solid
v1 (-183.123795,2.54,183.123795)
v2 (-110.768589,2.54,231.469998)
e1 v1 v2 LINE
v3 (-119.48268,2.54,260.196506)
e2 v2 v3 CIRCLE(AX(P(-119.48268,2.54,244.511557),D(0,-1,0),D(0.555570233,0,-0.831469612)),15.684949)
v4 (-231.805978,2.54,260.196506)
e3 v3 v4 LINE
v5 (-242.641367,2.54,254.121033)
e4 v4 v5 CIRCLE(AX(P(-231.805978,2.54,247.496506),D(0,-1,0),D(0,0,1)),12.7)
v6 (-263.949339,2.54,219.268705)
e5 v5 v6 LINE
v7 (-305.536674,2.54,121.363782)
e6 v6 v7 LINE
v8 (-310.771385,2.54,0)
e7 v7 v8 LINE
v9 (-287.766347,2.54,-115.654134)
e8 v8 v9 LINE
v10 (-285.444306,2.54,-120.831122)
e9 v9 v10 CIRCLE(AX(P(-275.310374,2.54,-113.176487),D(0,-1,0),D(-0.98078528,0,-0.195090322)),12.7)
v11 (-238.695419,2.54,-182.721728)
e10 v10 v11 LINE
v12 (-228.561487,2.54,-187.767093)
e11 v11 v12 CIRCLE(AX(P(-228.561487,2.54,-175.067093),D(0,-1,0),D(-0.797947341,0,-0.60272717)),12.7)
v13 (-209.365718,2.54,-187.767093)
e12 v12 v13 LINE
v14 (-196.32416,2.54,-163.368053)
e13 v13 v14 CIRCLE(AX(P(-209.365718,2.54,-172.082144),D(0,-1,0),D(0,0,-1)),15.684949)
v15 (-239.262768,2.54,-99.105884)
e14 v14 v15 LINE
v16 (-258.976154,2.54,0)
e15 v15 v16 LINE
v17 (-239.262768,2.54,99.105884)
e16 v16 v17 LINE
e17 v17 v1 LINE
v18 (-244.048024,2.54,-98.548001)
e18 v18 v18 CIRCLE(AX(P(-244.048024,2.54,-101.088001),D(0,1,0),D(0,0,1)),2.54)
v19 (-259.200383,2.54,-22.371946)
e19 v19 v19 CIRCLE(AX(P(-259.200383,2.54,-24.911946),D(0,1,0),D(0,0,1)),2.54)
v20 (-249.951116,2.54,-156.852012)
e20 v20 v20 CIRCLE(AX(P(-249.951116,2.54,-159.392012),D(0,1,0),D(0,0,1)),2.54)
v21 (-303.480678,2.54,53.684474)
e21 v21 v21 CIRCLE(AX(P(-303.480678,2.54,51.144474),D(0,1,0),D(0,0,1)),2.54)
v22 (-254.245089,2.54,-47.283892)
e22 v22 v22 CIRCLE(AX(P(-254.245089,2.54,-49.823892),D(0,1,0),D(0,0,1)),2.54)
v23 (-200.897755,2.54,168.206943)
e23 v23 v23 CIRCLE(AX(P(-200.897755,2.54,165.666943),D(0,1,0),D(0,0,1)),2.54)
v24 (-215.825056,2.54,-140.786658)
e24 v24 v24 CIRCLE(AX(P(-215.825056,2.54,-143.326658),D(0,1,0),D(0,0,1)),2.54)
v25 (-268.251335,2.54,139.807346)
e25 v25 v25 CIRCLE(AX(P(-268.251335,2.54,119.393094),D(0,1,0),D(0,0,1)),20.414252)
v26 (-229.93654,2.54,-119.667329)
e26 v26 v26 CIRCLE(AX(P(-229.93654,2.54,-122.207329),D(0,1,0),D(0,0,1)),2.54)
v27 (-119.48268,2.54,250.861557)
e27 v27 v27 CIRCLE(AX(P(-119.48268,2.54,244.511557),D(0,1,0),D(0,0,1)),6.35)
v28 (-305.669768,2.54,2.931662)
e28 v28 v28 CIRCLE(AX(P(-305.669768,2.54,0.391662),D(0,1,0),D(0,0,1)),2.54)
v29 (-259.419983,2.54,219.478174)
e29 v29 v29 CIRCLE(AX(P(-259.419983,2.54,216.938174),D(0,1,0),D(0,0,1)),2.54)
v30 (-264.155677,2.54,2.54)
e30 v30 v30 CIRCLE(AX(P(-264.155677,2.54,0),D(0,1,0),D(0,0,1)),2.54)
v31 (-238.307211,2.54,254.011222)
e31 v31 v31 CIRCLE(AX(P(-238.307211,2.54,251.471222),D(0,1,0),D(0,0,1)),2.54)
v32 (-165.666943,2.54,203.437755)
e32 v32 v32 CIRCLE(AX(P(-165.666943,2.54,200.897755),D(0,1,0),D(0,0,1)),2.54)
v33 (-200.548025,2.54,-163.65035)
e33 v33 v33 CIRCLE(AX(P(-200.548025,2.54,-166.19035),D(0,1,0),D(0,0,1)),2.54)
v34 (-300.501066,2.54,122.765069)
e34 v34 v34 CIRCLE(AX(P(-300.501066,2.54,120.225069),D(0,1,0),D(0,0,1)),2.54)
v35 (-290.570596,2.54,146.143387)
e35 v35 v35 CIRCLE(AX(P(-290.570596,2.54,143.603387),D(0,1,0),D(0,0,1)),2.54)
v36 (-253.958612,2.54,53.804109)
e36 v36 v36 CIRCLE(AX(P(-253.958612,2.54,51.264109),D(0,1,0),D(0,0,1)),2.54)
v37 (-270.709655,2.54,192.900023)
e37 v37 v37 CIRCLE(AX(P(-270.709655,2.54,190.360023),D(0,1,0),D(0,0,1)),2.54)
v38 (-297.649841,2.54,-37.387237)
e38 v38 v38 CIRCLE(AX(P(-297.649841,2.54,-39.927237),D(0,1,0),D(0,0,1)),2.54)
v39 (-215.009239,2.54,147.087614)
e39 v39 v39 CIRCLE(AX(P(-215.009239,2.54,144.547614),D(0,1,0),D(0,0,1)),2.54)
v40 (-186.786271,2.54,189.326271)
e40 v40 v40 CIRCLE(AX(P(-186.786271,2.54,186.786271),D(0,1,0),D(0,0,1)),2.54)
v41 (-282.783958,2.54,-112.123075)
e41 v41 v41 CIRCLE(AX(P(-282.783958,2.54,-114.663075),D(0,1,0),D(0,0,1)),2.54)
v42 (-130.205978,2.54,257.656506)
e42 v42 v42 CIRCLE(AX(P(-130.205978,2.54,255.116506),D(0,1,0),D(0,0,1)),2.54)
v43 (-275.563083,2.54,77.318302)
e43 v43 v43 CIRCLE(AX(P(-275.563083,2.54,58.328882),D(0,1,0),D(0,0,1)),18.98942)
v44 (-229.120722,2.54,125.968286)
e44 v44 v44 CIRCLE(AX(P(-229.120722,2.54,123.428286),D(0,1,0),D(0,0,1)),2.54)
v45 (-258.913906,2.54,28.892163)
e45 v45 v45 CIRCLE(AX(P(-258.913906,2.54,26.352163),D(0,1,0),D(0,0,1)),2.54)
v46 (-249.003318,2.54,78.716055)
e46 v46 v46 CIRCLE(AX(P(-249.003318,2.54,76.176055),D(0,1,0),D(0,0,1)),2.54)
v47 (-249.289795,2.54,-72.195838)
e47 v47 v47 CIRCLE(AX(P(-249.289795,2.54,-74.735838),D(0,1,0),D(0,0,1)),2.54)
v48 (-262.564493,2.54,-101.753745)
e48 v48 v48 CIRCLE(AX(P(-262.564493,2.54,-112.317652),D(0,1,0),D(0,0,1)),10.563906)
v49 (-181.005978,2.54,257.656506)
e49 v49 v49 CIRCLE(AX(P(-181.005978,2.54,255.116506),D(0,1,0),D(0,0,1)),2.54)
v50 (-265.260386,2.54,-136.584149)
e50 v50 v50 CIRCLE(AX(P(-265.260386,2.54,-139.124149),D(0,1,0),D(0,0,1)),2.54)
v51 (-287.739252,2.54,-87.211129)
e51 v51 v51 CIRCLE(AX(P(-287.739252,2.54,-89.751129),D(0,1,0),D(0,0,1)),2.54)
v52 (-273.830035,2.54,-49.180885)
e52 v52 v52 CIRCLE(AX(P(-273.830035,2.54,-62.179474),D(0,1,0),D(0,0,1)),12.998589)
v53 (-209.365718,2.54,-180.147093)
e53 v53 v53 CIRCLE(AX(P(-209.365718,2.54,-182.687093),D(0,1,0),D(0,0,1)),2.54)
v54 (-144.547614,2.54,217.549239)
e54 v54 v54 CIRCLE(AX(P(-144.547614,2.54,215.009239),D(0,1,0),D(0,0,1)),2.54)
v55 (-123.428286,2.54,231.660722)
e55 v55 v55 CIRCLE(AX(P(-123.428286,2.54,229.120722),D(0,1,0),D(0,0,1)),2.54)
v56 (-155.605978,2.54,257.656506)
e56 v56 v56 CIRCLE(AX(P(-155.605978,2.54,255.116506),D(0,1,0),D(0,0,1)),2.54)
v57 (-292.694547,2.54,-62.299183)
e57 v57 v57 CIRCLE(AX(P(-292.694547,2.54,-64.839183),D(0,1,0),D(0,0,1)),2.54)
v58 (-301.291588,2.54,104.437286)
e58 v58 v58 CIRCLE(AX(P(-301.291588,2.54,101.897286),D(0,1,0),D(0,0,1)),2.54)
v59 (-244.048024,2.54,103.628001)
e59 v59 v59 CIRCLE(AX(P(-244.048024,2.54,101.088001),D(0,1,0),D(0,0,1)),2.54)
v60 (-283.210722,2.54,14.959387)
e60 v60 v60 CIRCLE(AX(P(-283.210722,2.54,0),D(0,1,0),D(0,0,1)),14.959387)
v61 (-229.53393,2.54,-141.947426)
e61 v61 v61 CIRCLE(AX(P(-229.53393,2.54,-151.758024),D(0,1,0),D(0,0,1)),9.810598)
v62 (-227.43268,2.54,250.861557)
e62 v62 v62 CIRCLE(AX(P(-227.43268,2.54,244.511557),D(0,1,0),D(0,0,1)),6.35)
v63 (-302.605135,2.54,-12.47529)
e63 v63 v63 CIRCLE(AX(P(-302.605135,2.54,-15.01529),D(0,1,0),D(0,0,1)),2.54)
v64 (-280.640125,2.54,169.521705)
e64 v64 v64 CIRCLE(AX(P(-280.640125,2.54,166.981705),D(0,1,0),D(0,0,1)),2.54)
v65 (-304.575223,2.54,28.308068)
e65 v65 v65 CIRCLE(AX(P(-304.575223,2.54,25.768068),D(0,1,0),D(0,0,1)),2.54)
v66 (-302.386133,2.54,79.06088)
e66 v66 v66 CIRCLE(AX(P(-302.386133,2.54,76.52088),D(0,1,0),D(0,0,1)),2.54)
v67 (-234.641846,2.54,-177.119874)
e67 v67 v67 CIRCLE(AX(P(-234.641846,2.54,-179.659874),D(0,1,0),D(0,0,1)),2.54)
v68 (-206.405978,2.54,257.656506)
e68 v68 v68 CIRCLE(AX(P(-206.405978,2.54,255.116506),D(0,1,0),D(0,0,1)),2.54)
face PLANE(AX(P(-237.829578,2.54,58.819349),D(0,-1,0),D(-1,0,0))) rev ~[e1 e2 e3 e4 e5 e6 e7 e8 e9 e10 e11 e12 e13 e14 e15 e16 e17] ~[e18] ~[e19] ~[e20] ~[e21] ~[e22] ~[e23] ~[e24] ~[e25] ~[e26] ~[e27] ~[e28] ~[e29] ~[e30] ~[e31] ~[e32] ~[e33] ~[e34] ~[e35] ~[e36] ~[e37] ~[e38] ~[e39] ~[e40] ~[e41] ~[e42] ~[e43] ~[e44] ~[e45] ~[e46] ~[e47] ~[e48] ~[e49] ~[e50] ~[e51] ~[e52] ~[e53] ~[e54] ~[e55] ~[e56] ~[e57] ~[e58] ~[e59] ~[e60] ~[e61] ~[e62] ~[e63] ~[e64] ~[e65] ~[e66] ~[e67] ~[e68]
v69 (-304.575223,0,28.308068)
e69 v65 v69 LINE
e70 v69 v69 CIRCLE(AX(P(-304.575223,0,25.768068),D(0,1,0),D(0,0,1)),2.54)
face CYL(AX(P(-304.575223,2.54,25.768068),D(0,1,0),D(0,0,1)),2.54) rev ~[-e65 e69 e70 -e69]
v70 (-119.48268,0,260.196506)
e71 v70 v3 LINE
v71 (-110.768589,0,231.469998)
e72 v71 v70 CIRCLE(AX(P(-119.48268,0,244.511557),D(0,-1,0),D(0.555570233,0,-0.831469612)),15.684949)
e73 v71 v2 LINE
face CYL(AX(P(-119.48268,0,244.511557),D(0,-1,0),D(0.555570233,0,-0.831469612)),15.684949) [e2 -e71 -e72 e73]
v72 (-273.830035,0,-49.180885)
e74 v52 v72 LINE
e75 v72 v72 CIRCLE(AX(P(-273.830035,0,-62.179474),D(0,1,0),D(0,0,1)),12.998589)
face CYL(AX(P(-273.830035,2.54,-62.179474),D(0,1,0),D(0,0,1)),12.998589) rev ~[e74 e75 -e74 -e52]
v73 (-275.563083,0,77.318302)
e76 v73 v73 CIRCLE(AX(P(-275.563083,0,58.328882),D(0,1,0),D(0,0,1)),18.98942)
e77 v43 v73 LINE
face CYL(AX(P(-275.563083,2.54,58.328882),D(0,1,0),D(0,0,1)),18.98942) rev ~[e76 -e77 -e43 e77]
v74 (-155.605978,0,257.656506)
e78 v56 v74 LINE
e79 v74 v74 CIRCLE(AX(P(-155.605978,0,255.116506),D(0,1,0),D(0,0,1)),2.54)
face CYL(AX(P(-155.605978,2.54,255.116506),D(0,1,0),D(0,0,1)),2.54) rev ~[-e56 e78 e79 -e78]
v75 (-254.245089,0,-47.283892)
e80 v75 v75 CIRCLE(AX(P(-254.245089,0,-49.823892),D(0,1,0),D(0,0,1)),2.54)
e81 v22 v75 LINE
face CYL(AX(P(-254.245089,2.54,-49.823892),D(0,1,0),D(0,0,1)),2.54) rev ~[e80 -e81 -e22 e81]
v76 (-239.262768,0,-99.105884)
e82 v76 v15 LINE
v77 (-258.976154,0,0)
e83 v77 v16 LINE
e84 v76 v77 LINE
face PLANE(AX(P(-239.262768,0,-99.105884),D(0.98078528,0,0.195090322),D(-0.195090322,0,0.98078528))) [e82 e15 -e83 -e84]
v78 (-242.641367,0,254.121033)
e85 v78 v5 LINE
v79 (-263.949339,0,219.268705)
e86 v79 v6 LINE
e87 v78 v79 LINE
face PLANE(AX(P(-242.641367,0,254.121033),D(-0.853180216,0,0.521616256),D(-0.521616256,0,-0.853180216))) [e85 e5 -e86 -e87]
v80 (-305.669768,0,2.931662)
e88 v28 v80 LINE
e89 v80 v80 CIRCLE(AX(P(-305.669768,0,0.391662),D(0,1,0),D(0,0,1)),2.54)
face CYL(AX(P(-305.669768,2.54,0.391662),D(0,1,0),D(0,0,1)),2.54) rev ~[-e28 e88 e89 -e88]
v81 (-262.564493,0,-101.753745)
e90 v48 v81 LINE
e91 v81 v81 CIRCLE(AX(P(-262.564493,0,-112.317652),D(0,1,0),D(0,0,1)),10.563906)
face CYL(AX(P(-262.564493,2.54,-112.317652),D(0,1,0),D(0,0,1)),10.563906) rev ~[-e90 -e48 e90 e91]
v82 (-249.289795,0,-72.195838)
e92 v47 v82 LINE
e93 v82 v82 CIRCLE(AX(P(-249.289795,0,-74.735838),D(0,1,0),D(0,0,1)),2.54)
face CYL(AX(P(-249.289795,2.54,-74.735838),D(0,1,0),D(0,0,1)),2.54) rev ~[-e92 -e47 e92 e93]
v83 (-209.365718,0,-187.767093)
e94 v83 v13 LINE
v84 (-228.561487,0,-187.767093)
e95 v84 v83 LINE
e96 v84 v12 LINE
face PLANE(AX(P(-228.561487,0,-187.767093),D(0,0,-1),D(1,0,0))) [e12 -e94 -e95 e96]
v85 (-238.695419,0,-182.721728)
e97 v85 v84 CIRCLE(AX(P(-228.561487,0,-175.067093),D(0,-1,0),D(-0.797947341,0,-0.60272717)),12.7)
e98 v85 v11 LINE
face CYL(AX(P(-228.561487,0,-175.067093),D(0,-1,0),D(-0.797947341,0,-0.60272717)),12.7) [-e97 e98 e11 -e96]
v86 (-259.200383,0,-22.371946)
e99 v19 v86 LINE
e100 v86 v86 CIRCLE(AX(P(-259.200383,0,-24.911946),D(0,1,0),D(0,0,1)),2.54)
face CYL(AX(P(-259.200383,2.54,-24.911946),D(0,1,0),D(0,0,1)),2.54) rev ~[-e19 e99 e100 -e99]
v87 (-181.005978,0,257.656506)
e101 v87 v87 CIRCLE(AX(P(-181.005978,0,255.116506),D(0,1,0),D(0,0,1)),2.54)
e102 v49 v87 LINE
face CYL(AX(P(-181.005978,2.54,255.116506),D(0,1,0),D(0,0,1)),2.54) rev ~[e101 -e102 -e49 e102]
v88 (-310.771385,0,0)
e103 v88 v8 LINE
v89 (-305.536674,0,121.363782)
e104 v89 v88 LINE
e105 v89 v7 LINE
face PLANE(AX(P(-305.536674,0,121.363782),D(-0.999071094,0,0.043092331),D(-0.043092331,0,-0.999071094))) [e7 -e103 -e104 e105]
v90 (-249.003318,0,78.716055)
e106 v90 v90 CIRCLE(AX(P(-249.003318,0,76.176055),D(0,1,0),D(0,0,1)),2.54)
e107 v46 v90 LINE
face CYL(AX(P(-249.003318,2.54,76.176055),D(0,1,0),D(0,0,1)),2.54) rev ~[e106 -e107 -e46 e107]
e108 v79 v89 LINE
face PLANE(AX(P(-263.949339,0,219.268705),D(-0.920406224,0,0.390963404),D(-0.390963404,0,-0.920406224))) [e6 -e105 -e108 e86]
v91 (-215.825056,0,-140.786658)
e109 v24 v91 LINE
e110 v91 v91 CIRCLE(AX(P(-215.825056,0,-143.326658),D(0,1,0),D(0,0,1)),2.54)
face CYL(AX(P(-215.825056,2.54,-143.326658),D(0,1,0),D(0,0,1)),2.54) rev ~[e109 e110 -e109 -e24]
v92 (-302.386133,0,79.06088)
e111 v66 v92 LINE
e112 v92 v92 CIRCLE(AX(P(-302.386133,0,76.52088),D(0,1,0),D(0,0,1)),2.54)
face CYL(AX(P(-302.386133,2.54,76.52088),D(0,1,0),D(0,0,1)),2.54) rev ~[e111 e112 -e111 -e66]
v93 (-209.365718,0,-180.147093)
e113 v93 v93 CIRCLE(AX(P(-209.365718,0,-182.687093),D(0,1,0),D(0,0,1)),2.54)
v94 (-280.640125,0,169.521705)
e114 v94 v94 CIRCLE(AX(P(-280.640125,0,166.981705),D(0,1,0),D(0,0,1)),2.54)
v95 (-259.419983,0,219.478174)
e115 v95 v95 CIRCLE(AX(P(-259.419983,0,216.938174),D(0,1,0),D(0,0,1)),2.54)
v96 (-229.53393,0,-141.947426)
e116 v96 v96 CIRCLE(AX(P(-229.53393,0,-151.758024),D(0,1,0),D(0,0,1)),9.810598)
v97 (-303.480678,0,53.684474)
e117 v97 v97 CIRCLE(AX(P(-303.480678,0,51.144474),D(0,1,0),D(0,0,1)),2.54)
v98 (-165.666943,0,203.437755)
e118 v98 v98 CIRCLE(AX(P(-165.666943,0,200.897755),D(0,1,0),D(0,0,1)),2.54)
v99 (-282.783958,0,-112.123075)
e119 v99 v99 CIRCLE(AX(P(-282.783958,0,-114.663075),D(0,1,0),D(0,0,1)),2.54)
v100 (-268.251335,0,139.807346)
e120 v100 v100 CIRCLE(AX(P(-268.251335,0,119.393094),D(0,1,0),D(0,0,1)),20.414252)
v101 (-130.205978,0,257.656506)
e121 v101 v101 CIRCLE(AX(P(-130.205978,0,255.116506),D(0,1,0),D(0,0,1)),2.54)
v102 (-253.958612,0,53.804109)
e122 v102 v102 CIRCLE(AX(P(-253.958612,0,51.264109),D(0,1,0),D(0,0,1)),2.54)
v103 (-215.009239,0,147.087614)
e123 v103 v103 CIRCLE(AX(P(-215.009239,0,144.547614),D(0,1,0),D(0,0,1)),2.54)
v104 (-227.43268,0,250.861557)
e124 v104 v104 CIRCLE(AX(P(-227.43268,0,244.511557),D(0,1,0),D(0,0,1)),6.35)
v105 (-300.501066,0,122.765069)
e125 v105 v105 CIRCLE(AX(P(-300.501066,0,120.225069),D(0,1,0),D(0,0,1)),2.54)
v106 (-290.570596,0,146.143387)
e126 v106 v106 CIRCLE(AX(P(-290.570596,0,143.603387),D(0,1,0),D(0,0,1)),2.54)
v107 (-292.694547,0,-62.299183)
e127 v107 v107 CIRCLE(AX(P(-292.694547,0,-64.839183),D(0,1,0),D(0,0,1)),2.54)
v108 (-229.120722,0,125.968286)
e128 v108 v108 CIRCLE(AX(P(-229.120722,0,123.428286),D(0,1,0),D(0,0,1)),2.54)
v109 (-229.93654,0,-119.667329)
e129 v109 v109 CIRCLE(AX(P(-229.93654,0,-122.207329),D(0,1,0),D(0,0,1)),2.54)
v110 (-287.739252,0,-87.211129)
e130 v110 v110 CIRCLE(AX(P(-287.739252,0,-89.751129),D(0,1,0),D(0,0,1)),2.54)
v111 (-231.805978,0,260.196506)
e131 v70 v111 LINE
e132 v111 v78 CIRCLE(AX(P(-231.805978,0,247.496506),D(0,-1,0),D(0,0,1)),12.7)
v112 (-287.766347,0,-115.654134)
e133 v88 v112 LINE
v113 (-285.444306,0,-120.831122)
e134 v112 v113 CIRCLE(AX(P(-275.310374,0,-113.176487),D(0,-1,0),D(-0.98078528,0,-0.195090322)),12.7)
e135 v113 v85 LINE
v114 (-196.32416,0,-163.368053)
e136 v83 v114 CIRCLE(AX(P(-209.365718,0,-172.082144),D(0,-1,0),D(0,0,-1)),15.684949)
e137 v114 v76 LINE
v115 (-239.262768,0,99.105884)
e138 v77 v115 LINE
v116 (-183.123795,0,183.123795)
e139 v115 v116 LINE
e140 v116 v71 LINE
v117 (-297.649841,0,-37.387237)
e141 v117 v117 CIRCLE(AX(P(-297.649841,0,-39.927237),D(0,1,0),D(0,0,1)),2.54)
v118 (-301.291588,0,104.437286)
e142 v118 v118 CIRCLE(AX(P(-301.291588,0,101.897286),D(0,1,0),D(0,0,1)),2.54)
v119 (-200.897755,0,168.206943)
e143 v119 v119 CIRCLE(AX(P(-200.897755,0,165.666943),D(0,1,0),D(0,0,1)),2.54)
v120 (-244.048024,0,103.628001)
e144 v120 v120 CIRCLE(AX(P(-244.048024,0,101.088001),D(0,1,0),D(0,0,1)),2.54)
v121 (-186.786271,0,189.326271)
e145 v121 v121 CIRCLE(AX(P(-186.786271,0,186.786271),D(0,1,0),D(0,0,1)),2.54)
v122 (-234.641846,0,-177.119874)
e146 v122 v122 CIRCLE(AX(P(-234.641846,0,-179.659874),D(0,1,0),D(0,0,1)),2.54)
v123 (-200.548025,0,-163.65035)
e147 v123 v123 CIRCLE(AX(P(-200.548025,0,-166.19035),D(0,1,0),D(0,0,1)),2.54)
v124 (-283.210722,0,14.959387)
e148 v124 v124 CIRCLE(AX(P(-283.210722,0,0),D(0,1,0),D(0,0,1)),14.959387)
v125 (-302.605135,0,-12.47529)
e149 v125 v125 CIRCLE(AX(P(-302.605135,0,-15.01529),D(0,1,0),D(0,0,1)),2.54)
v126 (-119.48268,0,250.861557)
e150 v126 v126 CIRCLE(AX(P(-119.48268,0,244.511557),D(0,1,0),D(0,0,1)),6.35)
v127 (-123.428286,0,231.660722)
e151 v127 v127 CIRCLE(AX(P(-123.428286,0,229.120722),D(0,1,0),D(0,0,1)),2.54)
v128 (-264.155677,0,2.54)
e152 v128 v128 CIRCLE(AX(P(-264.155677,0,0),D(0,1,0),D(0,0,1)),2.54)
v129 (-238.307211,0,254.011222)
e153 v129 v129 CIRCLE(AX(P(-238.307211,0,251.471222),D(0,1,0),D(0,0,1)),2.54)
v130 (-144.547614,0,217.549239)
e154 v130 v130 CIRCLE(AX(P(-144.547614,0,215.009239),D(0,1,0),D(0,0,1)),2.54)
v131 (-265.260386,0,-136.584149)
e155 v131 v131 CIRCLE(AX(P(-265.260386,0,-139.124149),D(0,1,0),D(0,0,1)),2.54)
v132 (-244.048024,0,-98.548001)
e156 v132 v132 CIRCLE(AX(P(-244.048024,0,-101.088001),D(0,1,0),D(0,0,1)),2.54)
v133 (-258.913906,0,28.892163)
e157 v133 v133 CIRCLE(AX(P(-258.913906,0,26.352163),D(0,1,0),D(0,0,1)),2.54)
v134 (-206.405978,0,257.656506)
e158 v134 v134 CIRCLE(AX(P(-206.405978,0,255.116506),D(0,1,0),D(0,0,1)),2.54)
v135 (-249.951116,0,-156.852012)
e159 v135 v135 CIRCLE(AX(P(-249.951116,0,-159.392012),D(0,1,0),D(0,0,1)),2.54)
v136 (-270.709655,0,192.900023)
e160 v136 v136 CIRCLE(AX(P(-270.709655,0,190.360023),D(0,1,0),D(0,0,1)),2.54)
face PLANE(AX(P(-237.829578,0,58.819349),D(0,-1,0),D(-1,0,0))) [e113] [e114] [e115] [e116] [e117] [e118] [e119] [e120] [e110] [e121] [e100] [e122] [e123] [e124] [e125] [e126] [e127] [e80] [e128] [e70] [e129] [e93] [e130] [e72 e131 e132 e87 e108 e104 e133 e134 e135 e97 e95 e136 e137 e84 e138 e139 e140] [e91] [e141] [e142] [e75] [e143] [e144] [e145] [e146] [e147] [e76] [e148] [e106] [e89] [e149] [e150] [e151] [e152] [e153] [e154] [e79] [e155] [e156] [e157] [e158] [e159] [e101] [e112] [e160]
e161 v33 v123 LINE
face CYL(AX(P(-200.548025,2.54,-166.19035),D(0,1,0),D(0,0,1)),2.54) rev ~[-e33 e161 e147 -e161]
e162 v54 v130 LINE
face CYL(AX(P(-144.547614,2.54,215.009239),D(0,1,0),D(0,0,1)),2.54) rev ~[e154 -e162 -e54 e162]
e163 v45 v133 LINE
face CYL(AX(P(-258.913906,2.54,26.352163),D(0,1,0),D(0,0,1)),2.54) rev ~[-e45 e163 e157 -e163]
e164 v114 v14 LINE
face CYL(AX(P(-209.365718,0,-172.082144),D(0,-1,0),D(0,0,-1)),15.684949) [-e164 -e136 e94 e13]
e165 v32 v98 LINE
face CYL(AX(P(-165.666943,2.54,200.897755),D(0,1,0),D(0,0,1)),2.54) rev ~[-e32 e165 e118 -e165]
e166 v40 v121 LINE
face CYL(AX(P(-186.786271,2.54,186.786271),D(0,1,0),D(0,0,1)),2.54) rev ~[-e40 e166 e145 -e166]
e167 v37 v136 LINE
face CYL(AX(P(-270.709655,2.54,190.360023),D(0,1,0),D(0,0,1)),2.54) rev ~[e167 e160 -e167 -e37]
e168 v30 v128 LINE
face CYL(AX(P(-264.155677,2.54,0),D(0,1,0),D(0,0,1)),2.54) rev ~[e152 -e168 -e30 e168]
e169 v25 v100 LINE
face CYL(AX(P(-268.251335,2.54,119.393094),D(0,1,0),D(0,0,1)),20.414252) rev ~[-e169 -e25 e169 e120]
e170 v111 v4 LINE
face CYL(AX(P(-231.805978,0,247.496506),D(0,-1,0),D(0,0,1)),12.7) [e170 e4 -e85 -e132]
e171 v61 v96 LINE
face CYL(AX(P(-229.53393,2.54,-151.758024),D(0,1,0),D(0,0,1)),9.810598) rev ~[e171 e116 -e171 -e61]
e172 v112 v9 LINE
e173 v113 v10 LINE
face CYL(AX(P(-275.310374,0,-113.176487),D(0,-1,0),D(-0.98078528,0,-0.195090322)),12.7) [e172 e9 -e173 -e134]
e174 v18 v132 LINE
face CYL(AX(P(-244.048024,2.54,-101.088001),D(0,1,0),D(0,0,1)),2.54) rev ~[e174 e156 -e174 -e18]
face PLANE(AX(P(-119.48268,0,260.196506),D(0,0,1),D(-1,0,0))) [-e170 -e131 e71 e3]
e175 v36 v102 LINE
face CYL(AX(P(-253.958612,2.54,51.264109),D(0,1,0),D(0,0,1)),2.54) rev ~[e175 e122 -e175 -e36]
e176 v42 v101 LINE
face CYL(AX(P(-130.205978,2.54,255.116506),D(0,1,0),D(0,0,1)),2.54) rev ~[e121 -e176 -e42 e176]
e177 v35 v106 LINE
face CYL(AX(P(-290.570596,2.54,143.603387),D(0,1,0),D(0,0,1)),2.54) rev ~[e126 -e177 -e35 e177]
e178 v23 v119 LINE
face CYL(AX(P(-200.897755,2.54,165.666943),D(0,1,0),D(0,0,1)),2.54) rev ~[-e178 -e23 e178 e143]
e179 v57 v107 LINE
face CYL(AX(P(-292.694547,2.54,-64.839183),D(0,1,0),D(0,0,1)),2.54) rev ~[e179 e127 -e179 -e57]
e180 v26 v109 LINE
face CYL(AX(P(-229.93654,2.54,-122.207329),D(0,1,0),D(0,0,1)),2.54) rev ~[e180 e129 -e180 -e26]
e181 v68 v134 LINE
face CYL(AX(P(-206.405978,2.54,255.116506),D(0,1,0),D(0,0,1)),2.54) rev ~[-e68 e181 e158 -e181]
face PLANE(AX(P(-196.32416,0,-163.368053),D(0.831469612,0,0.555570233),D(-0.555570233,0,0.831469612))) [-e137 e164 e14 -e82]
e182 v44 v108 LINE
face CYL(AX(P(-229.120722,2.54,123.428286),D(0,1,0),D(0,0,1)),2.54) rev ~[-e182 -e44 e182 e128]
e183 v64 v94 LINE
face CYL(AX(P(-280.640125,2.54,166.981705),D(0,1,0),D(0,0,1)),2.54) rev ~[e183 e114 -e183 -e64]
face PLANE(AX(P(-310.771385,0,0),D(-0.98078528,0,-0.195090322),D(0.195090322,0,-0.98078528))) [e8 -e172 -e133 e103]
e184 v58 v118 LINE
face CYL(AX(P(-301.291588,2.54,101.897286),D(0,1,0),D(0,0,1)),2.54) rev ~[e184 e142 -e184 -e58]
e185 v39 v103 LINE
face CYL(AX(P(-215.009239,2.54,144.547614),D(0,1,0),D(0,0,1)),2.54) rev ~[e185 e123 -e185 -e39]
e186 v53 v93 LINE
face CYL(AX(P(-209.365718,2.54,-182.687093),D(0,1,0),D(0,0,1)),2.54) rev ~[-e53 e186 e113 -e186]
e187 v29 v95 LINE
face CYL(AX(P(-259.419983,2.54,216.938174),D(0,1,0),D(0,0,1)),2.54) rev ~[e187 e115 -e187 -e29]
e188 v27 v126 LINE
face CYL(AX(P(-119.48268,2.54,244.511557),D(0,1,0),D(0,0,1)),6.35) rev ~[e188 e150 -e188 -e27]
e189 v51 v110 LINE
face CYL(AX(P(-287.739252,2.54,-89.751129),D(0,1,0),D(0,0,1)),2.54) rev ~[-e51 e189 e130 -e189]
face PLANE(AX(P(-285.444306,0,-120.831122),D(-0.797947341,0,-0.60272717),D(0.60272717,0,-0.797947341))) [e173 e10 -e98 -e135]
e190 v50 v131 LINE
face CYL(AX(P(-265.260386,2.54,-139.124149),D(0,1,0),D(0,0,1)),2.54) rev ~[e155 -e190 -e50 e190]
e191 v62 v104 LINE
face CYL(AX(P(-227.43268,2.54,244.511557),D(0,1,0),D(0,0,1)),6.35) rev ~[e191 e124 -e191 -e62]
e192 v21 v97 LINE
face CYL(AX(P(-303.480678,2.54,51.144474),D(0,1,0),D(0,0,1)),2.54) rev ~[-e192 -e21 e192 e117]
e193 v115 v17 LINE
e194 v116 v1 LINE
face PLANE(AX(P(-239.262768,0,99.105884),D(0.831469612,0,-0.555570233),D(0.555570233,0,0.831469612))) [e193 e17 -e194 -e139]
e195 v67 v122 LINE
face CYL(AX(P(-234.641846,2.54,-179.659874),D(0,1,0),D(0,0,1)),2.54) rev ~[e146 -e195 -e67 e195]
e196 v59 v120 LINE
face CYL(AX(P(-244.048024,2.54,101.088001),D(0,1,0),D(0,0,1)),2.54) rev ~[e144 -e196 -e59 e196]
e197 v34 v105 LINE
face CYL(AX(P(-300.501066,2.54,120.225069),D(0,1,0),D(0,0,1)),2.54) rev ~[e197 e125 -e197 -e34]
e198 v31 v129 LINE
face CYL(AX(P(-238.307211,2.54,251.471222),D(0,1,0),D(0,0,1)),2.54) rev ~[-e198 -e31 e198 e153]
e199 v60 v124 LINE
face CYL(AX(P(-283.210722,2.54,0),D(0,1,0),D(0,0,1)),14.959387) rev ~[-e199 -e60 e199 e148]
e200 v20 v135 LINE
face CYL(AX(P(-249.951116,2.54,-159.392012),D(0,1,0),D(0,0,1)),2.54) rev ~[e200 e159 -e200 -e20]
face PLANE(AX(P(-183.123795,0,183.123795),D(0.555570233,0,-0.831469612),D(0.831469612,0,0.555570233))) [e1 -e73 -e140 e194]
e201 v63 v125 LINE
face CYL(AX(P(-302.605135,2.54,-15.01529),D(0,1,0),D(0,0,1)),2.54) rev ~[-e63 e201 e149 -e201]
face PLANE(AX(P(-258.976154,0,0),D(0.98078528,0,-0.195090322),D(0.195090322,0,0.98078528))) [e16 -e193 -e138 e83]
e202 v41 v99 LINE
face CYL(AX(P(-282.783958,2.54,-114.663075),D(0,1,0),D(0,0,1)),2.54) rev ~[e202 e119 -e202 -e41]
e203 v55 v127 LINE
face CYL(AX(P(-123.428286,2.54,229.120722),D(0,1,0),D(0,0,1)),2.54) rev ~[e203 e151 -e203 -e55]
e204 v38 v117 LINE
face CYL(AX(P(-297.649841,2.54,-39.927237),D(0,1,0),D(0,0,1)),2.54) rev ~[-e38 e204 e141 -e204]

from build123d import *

# Parameters (mm, degrees)
ARM_DEPTH            = 2.54
LIGHTING_HOLES_REACH = 407.324
SKETCH3_R            = 10.563906398
SKETCH3_R_2          = 12.998589321
SKETCH3_R_3          = 14.959386689
SKETCH3_R_4          = 18.989420404
SKETCH3_R_5          = 20.414251761
SKETCH3_R_6          = 9.810598177
PIVOT_HOLES_REACH    = 407.324
SKETCH4_R            = 6.35
SKETCH5_R            = 2.54
EDGE_HOLES_DEPTH     = 2.54


with BuildPart() as part:
    # Sketch2 → Arm (new body)
    with BuildSketch(Plane(origin=(0, 0, 0), x_dir=(1, 0, 0), z_dir=(0, 1, 0))):
        with BuildLine():
            Line((-196.324159543, 163.36805283), (-239.26276826, 99.105883584))
            Line((-239.26276826, 99.105883584), (-258.976154185, 0))
            Line((-258.976154185, 0), (-239.26276826, -99.105883584))
            Line((-239.26276826, -99.105883584), (-183.12379479, -183.12379479))
            Line((-183.12379479, -183.12379479), (-110.768588535, -231.469997952))
            ThreePointArc((-110.768588535, -231.469997952), (-104.473118761, -249.064657285), (-119.482679559, -260.19650625))
            Line((-119.482679559, -260.19650625), (-231.805977786, -260.19650625))
            ThreePointArc((-231.805977786, -260.19650625), (-238.01719804, -258.573994365), (-242.641366534, -254.121032698))
            Line((-242.641366534, -254.121032698), (-263.949339301, -219.268704737))
            Line((-263.949339301, -219.268704737), (-305.536674142, -121.363782023))
            Line((-305.536674142, -121.363782023), (-310.771385022, 0))
            Line((-310.771385022, 0), (-287.766347466, 115.654133822))
            ThreePointArc((-287.766347466, 115.654133822), (-286.898137133, 118.373962558), (-285.444305631, 120.831121792))
            Line((-285.444305631, 120.831121792), (-238.69541851, 182.721728369))
            ThreePointArc((-238.69541851, 182.721728369), (-234.221705245, 186.435995307), (-228.561487284, 187.76709331))
            Line((-228.561487284, 187.76709331), (-209.365718386, 187.76709331))
            ThreePointArc((-209.365718386, 187.76709331), (-195.532827931, 179.475977845), (-196.324159543, 163.36805283))
        make_face()
    extrude(amount=ARM_DEPTH)

    # Sketch3 → Lighting Holes (cut, up to next)
    with BuildSketch(Plane(origin=(0, 2.54, 0), x_dir=(1, 0, 0), z_dir=(0, 1, 0)), mode=Mode.PRIVATE) as lighting_holes_sk1:
        with Locations(Location((-262.564493281, 112.317651632, 0), (0, 0, 270))):
            Circle(SKETCH3_R)
    lighting_holes_tool1 = extrude(lighting_holes_sk1.sketch, amount=-LIGHTING_HOLES_REACH, mode=Mode.PRIVATE) & part.part
    # Sketch3 → Lighting Holes (cut, up to next)
    with BuildSketch(Plane(origin=(0, 2.54, 0), x_dir=(1, 0, 0), z_dir=(0, 1, 0)), mode=Mode.PRIVATE) as lighting_holes_sk2:
        with Locations(Location((-273.830034517, 62.17947414, 0), (0, 0, 270))):
            Circle(SKETCH3_R_2)
    lighting_holes_tool2 = extrude(lighting_holes_sk2.sketch, amount=-LIGHTING_HOLES_REACH, mode=Mode.PRIVATE) & part.part
    # Sketch3 → Lighting Holes (cut, up to next)
    with BuildSketch(Plane(origin=(0, 2.54, 0), x_dir=(1, 0, 0), z_dir=(0, 1, 0)), mode=Mode.PRIVATE) as lighting_holes_sk3:
        with Locations(Location((-283.210721504, 0, 0), (0, 0, 270))):
            Circle(SKETCH3_R_3)
    lighting_holes_tool3 = extrude(lighting_holes_sk3.sketch, amount=-LIGHTING_HOLES_REACH, mode=Mode.PRIVATE) & part.part
    # Sketch3 → Lighting Holes (cut, up to next)
    with BuildSketch(Plane(origin=(0, 2.54, 0), x_dir=(1, 0, 0), z_dir=(0, 1, 0)), mode=Mode.PRIVATE) as lighting_holes_sk4:
        with Locations(Location((-275.563082601, -58.328881999, 0), (0, 0, 270))):
            Circle(SKETCH3_R_4)
    lighting_holes_tool4 = extrude(lighting_holes_sk4.sketch, amount=-LIGHTING_HOLES_REACH, mode=Mode.PRIVATE) & part.part
    # Sketch3 → Lighting Holes (cut, up to next)
    with BuildSketch(Plane(origin=(0, 2.54, 0), x_dir=(1, 0, 0), z_dir=(0, 1, 0)), mode=Mode.PRIVATE) as lighting_holes_sk5:
        with Locations(Location((-268.251334815, -119.393093751, 0), (0, 0, 270))):
            Circle(SKETCH3_R_5)
    lighting_holes_tool5 = extrude(lighting_holes_sk5.sketch, amount=-LIGHTING_HOLES_REACH, mode=Mode.PRIVATE) & part.part
    # Sketch3 → Lighting Holes (cut, up to next)
    with BuildSketch(Plane(origin=(0, 2.54, 0), x_dir=(1, 0, 0), z_dir=(0, 1, 0)), mode=Mode.PRIVATE) as lighting_holes_sk6:
        with Locations(Location((-229.533929598, 151.758024286, 0), (0, 0, 270))):
            Circle(SKETCH3_R_6)
    lighting_holes_tool6 = extrude(lighting_holes_sk6.sketch, amount=-LIGHTING_HOLES_REACH, mode=Mode.PRIVATE) & part.part
    add(lighting_holes_tool1.solids().sort_by_distance((-262.564493, 2.54, -112.317652))[0], mode=Mode.SUBTRACT)
    add(lighting_holes_tool2.solids().sort_by_distance((-273.830035, 2.54, -62.179474))[0], mode=Mode.SUBTRACT)
    add(lighting_holes_tool3.solids().sort_by_distance((-283.210722, 2.54, 0))[0], mode=Mode.SUBTRACT)
    add(lighting_holes_tool4.solids().sort_by_distance((-275.563083, 2.54, 58.328882))[0], mode=Mode.SUBTRACT)
    add(lighting_holes_tool5.solids().sort_by_distance((-268.251335, 2.54, 119.393094))[0], mode=Mode.SUBTRACT)
    add(lighting_holes_tool6.solids().sort_by_distance((-229.53393, 2.54, -151.758024))[0], mode=Mode.SUBTRACT)

    # Sketch4 → Pivot Holes (cut, up to next)
    with BuildSketch(Plane(origin=(0, 2.54, 0), x_dir=(1, 0, 0), z_dir=(0, 1, 0)), mode=Mode.PRIVATE) as pivot_holes_sk1:
        with Locations(Location((-119.482679559, -244.511556794, 0), (0, 0, 270))):
            Circle(SKETCH4_R)
    pivot_holes_tool1 = extrude(pivot_holes_sk1.sketch, amount=-PIVOT_HOLES_REACH, mode=Mode.PRIVATE) & part.part
    # Sketch4 → Pivot Holes (cut, up to next)
    with BuildSketch(Plane(origin=(0, 2.54, 0), x_dir=(1, 0, 0), z_dir=(0, 1, 0)), mode=Mode.PRIVATE) as pivot_holes_sk2:
        with Locations(Location((-227.432679559, -244.511556794, 0), (0, 0, 270))):
            Circle(SKETCH4_R)
    pivot_holes_tool2 = extrude(pivot_holes_sk2.sketch, amount=-PIVOT_HOLES_REACH, mode=Mode.PRIVATE) & part.part
    add(pivot_holes_tool1.solids().sort_by_distance((-119.48268, 2.54, 244.511557))[0], mode=Mode.SUBTRACT)
    add(pivot_holes_tool2.solids().sort_by_distance((-227.43268, 2.54, 244.511557))[0], mode=Mode.SUBTRACT)

    # Sketch5 → Edge Holes (cut)
    with BuildSketch(Plane(origin=(0, 2.54, 0), x_dir=(1, 0, 0), z_dir=(0, 1, 0))):
        with Locations(Location((-186.786270686, -186.786270686, 0), (0, 0, 270))):
            Circle(SKETCH5_R)
        with Locations(Location((-200.897754604, -165.666942533, 0), (0, 0, 270))):
            Circle(SKETCH5_R)
        with Locations(Location((-215.009238523, -144.547614381, 0), (0, 0, 270))):
            Circle(SKETCH5_R)
        with Locations(Location((-229.120722442, -123.428286228, 0), (0, 0, 270))):
            Circle(SKETCH5_R)
        with Locations(Location((-244.048023625, -101.088001256, 0), (0, 0, 270))):
            Circle(SKETCH5_R)
        with Locations(Location((-249.003317804, -76.176055134, 0), (0, 0, 270))):
            Circle(SKETCH5_R)
        with Locations(Location((-253.958611984, -51.264109011, 0), (0, 0, 270))):
            Circle(SKETCH5_R)
        with Locations(Location((-258.913906163, -26.352162889, 0), (0, 0, 270))):
            Circle(SKETCH5_R)
        with Locations(Location((-264.155677269, 0, 0), (0, 0, 270))):
            Circle(SKETCH5_R)
        with Locations(Location((-259.200383089, 24.911946122, 0), (0, 0, 270))):
            Circle(SKETCH5_R)
        with Locations(Location((-254.24508891, 49.823892244, 0), (0, 0, 270))):
            Circle(SKETCH5_R)
        with Locations(Location((-249.289794731, 74.735838367, 0), (0, 0, 270))):
            Circle(SKETCH5_R)
        with Locations(Location((-244.048023625, 101.088001256, 0), (0, 0, 270))):
            Circle(SKETCH5_R)
        with Locations(Location((-229.936539706, 122.207329408, 0), (0, 0, 270))):
            Circle(SKETCH5_R)
        with Locations(Location((-215.825055788, 143.326657561, 0), (0, 0, 270))):
            Circle(SKETCH5_R)
        with Locations(Location((-200.548025174, 166.190349614, 0), (0, 0, 270))):
            Circle(SKETCH5_R)
        with Locations(Location((-209.365718386, 182.68709331, 0), (0, 0, 270))):
            Circle(SKETCH5_R)
        with Locations(Location((-249.95111614, 159.392011893, 0), (0, 0, 270))):
            Circle(SKETCH5_R)
        with Locations(Location((-234.64184602, 179.659874346, 0), (0, 0, 270))):
            Circle(SKETCH5_R)
        with Locations(Location((-265.26038626, 139.12414944, 0), (0, 0, 270))):
            Circle(SKETCH5_R)
        with Locations(Location((-282.783958242, 114.663074986, 0), (0, 0, 270))):
            Circle(SKETCH5_R)
        with Locations(Location((-287.739252421, 89.751128864, 0), (0, 0, 270))):
            Circle(SKETCH5_R)
        with Locations(Location((-292.6945466, 64.839182741, 0), (0, 0, 270))):
            Circle(SKETCH5_R)
        with Locations(Location((-297.649840779, 39.927236619, 0), (0, 0, 270))):
            Circle(SKETCH5_R)
        with Locations(Location((-302.605134959, 15.015290497, 0), (0, 0, 270))):
            Circle(SKETCH5_R)
        with Locations(Location((-305.66976845, -0.391662485, 0), (0, 0, 270))):
            Circle(SKETCH5_R)
        with Locations(Location((-304.57522323, -25.768068274, 0), (0, 0, 270))):
            Circle(SKETCH5_R)
        with Locations(Location((-303.480678011, -51.144474063, 0), (0, 0, 270))):
            Circle(SKETCH5_R)
        with Locations(Location((-302.386132791, -76.520879852, 0), (0, 0, 270))):
            Circle(SKETCH5_R)
        with Locations(Location((-301.291587571, -101.89728564, 0), (0, 0, 270))):
            Circle(SKETCH5_R)
        with Locations(Location((-300.501066349, -120.225068676, 0), (0, 0, 270))):
            Circle(SKETCH5_R)
        with Locations(Location((-290.570595895, -143.603386762, 0), (0, 0, 270))):
            Circle(SKETCH5_R)
        with Locations(Location((-280.640125441, -166.981704849, 0), (0, 0, 270))):
            Circle(SKETCH5_R)
        with Locations(Location((-270.709654987, -190.360022936, 0), (0, 0, 270))):
            Circle(SKETCH5_R)
        with Locations(Location((-259.419983104, -216.93817365, 0), (0, 0, 270))):
            Circle(SKETCH5_R)
        with Locations(Location((-238.307211035, -251.471222119, 0), (0, 0, 270))):
            Circle(SKETCH5_R)
        with Locations(Location((-206.405977786, -255.11650625, 0), (0, 0, 270))):
            Circle(SKETCH5_R)
        with Locations(Location((-181.005977786, -255.11650625, 0), (0, 0, 270))):
            Circle(SKETCH5_R)
        with Locations(Location((-155.605977786, -255.11650625, 0), (0, 0, 270))):
            Circle(SKETCH5_R)
        with Locations(Location((-130.205977786, -255.11650625, 0), (0, 0, 270))):
            Circle(SKETCH5_R)
        with Locations(Location((-165.666942533, -200.897754604, 0), (0, 0, 270))):
            Circle(SKETCH5_R)
        with Locations(Location((-144.547614381, -215.009238523, 0), (0, 0, 270))):
            Circle(SKETCH5_R)
        with Locations(Location((-123.428286228, -229.120722442, 0), (0, 0, 270))):
            Circle(SKETCH5_R)
    extrude(amount=-EDGE_HOLES_DEPTH, mode=Mode.SUBTRACT)


solid = part.part
